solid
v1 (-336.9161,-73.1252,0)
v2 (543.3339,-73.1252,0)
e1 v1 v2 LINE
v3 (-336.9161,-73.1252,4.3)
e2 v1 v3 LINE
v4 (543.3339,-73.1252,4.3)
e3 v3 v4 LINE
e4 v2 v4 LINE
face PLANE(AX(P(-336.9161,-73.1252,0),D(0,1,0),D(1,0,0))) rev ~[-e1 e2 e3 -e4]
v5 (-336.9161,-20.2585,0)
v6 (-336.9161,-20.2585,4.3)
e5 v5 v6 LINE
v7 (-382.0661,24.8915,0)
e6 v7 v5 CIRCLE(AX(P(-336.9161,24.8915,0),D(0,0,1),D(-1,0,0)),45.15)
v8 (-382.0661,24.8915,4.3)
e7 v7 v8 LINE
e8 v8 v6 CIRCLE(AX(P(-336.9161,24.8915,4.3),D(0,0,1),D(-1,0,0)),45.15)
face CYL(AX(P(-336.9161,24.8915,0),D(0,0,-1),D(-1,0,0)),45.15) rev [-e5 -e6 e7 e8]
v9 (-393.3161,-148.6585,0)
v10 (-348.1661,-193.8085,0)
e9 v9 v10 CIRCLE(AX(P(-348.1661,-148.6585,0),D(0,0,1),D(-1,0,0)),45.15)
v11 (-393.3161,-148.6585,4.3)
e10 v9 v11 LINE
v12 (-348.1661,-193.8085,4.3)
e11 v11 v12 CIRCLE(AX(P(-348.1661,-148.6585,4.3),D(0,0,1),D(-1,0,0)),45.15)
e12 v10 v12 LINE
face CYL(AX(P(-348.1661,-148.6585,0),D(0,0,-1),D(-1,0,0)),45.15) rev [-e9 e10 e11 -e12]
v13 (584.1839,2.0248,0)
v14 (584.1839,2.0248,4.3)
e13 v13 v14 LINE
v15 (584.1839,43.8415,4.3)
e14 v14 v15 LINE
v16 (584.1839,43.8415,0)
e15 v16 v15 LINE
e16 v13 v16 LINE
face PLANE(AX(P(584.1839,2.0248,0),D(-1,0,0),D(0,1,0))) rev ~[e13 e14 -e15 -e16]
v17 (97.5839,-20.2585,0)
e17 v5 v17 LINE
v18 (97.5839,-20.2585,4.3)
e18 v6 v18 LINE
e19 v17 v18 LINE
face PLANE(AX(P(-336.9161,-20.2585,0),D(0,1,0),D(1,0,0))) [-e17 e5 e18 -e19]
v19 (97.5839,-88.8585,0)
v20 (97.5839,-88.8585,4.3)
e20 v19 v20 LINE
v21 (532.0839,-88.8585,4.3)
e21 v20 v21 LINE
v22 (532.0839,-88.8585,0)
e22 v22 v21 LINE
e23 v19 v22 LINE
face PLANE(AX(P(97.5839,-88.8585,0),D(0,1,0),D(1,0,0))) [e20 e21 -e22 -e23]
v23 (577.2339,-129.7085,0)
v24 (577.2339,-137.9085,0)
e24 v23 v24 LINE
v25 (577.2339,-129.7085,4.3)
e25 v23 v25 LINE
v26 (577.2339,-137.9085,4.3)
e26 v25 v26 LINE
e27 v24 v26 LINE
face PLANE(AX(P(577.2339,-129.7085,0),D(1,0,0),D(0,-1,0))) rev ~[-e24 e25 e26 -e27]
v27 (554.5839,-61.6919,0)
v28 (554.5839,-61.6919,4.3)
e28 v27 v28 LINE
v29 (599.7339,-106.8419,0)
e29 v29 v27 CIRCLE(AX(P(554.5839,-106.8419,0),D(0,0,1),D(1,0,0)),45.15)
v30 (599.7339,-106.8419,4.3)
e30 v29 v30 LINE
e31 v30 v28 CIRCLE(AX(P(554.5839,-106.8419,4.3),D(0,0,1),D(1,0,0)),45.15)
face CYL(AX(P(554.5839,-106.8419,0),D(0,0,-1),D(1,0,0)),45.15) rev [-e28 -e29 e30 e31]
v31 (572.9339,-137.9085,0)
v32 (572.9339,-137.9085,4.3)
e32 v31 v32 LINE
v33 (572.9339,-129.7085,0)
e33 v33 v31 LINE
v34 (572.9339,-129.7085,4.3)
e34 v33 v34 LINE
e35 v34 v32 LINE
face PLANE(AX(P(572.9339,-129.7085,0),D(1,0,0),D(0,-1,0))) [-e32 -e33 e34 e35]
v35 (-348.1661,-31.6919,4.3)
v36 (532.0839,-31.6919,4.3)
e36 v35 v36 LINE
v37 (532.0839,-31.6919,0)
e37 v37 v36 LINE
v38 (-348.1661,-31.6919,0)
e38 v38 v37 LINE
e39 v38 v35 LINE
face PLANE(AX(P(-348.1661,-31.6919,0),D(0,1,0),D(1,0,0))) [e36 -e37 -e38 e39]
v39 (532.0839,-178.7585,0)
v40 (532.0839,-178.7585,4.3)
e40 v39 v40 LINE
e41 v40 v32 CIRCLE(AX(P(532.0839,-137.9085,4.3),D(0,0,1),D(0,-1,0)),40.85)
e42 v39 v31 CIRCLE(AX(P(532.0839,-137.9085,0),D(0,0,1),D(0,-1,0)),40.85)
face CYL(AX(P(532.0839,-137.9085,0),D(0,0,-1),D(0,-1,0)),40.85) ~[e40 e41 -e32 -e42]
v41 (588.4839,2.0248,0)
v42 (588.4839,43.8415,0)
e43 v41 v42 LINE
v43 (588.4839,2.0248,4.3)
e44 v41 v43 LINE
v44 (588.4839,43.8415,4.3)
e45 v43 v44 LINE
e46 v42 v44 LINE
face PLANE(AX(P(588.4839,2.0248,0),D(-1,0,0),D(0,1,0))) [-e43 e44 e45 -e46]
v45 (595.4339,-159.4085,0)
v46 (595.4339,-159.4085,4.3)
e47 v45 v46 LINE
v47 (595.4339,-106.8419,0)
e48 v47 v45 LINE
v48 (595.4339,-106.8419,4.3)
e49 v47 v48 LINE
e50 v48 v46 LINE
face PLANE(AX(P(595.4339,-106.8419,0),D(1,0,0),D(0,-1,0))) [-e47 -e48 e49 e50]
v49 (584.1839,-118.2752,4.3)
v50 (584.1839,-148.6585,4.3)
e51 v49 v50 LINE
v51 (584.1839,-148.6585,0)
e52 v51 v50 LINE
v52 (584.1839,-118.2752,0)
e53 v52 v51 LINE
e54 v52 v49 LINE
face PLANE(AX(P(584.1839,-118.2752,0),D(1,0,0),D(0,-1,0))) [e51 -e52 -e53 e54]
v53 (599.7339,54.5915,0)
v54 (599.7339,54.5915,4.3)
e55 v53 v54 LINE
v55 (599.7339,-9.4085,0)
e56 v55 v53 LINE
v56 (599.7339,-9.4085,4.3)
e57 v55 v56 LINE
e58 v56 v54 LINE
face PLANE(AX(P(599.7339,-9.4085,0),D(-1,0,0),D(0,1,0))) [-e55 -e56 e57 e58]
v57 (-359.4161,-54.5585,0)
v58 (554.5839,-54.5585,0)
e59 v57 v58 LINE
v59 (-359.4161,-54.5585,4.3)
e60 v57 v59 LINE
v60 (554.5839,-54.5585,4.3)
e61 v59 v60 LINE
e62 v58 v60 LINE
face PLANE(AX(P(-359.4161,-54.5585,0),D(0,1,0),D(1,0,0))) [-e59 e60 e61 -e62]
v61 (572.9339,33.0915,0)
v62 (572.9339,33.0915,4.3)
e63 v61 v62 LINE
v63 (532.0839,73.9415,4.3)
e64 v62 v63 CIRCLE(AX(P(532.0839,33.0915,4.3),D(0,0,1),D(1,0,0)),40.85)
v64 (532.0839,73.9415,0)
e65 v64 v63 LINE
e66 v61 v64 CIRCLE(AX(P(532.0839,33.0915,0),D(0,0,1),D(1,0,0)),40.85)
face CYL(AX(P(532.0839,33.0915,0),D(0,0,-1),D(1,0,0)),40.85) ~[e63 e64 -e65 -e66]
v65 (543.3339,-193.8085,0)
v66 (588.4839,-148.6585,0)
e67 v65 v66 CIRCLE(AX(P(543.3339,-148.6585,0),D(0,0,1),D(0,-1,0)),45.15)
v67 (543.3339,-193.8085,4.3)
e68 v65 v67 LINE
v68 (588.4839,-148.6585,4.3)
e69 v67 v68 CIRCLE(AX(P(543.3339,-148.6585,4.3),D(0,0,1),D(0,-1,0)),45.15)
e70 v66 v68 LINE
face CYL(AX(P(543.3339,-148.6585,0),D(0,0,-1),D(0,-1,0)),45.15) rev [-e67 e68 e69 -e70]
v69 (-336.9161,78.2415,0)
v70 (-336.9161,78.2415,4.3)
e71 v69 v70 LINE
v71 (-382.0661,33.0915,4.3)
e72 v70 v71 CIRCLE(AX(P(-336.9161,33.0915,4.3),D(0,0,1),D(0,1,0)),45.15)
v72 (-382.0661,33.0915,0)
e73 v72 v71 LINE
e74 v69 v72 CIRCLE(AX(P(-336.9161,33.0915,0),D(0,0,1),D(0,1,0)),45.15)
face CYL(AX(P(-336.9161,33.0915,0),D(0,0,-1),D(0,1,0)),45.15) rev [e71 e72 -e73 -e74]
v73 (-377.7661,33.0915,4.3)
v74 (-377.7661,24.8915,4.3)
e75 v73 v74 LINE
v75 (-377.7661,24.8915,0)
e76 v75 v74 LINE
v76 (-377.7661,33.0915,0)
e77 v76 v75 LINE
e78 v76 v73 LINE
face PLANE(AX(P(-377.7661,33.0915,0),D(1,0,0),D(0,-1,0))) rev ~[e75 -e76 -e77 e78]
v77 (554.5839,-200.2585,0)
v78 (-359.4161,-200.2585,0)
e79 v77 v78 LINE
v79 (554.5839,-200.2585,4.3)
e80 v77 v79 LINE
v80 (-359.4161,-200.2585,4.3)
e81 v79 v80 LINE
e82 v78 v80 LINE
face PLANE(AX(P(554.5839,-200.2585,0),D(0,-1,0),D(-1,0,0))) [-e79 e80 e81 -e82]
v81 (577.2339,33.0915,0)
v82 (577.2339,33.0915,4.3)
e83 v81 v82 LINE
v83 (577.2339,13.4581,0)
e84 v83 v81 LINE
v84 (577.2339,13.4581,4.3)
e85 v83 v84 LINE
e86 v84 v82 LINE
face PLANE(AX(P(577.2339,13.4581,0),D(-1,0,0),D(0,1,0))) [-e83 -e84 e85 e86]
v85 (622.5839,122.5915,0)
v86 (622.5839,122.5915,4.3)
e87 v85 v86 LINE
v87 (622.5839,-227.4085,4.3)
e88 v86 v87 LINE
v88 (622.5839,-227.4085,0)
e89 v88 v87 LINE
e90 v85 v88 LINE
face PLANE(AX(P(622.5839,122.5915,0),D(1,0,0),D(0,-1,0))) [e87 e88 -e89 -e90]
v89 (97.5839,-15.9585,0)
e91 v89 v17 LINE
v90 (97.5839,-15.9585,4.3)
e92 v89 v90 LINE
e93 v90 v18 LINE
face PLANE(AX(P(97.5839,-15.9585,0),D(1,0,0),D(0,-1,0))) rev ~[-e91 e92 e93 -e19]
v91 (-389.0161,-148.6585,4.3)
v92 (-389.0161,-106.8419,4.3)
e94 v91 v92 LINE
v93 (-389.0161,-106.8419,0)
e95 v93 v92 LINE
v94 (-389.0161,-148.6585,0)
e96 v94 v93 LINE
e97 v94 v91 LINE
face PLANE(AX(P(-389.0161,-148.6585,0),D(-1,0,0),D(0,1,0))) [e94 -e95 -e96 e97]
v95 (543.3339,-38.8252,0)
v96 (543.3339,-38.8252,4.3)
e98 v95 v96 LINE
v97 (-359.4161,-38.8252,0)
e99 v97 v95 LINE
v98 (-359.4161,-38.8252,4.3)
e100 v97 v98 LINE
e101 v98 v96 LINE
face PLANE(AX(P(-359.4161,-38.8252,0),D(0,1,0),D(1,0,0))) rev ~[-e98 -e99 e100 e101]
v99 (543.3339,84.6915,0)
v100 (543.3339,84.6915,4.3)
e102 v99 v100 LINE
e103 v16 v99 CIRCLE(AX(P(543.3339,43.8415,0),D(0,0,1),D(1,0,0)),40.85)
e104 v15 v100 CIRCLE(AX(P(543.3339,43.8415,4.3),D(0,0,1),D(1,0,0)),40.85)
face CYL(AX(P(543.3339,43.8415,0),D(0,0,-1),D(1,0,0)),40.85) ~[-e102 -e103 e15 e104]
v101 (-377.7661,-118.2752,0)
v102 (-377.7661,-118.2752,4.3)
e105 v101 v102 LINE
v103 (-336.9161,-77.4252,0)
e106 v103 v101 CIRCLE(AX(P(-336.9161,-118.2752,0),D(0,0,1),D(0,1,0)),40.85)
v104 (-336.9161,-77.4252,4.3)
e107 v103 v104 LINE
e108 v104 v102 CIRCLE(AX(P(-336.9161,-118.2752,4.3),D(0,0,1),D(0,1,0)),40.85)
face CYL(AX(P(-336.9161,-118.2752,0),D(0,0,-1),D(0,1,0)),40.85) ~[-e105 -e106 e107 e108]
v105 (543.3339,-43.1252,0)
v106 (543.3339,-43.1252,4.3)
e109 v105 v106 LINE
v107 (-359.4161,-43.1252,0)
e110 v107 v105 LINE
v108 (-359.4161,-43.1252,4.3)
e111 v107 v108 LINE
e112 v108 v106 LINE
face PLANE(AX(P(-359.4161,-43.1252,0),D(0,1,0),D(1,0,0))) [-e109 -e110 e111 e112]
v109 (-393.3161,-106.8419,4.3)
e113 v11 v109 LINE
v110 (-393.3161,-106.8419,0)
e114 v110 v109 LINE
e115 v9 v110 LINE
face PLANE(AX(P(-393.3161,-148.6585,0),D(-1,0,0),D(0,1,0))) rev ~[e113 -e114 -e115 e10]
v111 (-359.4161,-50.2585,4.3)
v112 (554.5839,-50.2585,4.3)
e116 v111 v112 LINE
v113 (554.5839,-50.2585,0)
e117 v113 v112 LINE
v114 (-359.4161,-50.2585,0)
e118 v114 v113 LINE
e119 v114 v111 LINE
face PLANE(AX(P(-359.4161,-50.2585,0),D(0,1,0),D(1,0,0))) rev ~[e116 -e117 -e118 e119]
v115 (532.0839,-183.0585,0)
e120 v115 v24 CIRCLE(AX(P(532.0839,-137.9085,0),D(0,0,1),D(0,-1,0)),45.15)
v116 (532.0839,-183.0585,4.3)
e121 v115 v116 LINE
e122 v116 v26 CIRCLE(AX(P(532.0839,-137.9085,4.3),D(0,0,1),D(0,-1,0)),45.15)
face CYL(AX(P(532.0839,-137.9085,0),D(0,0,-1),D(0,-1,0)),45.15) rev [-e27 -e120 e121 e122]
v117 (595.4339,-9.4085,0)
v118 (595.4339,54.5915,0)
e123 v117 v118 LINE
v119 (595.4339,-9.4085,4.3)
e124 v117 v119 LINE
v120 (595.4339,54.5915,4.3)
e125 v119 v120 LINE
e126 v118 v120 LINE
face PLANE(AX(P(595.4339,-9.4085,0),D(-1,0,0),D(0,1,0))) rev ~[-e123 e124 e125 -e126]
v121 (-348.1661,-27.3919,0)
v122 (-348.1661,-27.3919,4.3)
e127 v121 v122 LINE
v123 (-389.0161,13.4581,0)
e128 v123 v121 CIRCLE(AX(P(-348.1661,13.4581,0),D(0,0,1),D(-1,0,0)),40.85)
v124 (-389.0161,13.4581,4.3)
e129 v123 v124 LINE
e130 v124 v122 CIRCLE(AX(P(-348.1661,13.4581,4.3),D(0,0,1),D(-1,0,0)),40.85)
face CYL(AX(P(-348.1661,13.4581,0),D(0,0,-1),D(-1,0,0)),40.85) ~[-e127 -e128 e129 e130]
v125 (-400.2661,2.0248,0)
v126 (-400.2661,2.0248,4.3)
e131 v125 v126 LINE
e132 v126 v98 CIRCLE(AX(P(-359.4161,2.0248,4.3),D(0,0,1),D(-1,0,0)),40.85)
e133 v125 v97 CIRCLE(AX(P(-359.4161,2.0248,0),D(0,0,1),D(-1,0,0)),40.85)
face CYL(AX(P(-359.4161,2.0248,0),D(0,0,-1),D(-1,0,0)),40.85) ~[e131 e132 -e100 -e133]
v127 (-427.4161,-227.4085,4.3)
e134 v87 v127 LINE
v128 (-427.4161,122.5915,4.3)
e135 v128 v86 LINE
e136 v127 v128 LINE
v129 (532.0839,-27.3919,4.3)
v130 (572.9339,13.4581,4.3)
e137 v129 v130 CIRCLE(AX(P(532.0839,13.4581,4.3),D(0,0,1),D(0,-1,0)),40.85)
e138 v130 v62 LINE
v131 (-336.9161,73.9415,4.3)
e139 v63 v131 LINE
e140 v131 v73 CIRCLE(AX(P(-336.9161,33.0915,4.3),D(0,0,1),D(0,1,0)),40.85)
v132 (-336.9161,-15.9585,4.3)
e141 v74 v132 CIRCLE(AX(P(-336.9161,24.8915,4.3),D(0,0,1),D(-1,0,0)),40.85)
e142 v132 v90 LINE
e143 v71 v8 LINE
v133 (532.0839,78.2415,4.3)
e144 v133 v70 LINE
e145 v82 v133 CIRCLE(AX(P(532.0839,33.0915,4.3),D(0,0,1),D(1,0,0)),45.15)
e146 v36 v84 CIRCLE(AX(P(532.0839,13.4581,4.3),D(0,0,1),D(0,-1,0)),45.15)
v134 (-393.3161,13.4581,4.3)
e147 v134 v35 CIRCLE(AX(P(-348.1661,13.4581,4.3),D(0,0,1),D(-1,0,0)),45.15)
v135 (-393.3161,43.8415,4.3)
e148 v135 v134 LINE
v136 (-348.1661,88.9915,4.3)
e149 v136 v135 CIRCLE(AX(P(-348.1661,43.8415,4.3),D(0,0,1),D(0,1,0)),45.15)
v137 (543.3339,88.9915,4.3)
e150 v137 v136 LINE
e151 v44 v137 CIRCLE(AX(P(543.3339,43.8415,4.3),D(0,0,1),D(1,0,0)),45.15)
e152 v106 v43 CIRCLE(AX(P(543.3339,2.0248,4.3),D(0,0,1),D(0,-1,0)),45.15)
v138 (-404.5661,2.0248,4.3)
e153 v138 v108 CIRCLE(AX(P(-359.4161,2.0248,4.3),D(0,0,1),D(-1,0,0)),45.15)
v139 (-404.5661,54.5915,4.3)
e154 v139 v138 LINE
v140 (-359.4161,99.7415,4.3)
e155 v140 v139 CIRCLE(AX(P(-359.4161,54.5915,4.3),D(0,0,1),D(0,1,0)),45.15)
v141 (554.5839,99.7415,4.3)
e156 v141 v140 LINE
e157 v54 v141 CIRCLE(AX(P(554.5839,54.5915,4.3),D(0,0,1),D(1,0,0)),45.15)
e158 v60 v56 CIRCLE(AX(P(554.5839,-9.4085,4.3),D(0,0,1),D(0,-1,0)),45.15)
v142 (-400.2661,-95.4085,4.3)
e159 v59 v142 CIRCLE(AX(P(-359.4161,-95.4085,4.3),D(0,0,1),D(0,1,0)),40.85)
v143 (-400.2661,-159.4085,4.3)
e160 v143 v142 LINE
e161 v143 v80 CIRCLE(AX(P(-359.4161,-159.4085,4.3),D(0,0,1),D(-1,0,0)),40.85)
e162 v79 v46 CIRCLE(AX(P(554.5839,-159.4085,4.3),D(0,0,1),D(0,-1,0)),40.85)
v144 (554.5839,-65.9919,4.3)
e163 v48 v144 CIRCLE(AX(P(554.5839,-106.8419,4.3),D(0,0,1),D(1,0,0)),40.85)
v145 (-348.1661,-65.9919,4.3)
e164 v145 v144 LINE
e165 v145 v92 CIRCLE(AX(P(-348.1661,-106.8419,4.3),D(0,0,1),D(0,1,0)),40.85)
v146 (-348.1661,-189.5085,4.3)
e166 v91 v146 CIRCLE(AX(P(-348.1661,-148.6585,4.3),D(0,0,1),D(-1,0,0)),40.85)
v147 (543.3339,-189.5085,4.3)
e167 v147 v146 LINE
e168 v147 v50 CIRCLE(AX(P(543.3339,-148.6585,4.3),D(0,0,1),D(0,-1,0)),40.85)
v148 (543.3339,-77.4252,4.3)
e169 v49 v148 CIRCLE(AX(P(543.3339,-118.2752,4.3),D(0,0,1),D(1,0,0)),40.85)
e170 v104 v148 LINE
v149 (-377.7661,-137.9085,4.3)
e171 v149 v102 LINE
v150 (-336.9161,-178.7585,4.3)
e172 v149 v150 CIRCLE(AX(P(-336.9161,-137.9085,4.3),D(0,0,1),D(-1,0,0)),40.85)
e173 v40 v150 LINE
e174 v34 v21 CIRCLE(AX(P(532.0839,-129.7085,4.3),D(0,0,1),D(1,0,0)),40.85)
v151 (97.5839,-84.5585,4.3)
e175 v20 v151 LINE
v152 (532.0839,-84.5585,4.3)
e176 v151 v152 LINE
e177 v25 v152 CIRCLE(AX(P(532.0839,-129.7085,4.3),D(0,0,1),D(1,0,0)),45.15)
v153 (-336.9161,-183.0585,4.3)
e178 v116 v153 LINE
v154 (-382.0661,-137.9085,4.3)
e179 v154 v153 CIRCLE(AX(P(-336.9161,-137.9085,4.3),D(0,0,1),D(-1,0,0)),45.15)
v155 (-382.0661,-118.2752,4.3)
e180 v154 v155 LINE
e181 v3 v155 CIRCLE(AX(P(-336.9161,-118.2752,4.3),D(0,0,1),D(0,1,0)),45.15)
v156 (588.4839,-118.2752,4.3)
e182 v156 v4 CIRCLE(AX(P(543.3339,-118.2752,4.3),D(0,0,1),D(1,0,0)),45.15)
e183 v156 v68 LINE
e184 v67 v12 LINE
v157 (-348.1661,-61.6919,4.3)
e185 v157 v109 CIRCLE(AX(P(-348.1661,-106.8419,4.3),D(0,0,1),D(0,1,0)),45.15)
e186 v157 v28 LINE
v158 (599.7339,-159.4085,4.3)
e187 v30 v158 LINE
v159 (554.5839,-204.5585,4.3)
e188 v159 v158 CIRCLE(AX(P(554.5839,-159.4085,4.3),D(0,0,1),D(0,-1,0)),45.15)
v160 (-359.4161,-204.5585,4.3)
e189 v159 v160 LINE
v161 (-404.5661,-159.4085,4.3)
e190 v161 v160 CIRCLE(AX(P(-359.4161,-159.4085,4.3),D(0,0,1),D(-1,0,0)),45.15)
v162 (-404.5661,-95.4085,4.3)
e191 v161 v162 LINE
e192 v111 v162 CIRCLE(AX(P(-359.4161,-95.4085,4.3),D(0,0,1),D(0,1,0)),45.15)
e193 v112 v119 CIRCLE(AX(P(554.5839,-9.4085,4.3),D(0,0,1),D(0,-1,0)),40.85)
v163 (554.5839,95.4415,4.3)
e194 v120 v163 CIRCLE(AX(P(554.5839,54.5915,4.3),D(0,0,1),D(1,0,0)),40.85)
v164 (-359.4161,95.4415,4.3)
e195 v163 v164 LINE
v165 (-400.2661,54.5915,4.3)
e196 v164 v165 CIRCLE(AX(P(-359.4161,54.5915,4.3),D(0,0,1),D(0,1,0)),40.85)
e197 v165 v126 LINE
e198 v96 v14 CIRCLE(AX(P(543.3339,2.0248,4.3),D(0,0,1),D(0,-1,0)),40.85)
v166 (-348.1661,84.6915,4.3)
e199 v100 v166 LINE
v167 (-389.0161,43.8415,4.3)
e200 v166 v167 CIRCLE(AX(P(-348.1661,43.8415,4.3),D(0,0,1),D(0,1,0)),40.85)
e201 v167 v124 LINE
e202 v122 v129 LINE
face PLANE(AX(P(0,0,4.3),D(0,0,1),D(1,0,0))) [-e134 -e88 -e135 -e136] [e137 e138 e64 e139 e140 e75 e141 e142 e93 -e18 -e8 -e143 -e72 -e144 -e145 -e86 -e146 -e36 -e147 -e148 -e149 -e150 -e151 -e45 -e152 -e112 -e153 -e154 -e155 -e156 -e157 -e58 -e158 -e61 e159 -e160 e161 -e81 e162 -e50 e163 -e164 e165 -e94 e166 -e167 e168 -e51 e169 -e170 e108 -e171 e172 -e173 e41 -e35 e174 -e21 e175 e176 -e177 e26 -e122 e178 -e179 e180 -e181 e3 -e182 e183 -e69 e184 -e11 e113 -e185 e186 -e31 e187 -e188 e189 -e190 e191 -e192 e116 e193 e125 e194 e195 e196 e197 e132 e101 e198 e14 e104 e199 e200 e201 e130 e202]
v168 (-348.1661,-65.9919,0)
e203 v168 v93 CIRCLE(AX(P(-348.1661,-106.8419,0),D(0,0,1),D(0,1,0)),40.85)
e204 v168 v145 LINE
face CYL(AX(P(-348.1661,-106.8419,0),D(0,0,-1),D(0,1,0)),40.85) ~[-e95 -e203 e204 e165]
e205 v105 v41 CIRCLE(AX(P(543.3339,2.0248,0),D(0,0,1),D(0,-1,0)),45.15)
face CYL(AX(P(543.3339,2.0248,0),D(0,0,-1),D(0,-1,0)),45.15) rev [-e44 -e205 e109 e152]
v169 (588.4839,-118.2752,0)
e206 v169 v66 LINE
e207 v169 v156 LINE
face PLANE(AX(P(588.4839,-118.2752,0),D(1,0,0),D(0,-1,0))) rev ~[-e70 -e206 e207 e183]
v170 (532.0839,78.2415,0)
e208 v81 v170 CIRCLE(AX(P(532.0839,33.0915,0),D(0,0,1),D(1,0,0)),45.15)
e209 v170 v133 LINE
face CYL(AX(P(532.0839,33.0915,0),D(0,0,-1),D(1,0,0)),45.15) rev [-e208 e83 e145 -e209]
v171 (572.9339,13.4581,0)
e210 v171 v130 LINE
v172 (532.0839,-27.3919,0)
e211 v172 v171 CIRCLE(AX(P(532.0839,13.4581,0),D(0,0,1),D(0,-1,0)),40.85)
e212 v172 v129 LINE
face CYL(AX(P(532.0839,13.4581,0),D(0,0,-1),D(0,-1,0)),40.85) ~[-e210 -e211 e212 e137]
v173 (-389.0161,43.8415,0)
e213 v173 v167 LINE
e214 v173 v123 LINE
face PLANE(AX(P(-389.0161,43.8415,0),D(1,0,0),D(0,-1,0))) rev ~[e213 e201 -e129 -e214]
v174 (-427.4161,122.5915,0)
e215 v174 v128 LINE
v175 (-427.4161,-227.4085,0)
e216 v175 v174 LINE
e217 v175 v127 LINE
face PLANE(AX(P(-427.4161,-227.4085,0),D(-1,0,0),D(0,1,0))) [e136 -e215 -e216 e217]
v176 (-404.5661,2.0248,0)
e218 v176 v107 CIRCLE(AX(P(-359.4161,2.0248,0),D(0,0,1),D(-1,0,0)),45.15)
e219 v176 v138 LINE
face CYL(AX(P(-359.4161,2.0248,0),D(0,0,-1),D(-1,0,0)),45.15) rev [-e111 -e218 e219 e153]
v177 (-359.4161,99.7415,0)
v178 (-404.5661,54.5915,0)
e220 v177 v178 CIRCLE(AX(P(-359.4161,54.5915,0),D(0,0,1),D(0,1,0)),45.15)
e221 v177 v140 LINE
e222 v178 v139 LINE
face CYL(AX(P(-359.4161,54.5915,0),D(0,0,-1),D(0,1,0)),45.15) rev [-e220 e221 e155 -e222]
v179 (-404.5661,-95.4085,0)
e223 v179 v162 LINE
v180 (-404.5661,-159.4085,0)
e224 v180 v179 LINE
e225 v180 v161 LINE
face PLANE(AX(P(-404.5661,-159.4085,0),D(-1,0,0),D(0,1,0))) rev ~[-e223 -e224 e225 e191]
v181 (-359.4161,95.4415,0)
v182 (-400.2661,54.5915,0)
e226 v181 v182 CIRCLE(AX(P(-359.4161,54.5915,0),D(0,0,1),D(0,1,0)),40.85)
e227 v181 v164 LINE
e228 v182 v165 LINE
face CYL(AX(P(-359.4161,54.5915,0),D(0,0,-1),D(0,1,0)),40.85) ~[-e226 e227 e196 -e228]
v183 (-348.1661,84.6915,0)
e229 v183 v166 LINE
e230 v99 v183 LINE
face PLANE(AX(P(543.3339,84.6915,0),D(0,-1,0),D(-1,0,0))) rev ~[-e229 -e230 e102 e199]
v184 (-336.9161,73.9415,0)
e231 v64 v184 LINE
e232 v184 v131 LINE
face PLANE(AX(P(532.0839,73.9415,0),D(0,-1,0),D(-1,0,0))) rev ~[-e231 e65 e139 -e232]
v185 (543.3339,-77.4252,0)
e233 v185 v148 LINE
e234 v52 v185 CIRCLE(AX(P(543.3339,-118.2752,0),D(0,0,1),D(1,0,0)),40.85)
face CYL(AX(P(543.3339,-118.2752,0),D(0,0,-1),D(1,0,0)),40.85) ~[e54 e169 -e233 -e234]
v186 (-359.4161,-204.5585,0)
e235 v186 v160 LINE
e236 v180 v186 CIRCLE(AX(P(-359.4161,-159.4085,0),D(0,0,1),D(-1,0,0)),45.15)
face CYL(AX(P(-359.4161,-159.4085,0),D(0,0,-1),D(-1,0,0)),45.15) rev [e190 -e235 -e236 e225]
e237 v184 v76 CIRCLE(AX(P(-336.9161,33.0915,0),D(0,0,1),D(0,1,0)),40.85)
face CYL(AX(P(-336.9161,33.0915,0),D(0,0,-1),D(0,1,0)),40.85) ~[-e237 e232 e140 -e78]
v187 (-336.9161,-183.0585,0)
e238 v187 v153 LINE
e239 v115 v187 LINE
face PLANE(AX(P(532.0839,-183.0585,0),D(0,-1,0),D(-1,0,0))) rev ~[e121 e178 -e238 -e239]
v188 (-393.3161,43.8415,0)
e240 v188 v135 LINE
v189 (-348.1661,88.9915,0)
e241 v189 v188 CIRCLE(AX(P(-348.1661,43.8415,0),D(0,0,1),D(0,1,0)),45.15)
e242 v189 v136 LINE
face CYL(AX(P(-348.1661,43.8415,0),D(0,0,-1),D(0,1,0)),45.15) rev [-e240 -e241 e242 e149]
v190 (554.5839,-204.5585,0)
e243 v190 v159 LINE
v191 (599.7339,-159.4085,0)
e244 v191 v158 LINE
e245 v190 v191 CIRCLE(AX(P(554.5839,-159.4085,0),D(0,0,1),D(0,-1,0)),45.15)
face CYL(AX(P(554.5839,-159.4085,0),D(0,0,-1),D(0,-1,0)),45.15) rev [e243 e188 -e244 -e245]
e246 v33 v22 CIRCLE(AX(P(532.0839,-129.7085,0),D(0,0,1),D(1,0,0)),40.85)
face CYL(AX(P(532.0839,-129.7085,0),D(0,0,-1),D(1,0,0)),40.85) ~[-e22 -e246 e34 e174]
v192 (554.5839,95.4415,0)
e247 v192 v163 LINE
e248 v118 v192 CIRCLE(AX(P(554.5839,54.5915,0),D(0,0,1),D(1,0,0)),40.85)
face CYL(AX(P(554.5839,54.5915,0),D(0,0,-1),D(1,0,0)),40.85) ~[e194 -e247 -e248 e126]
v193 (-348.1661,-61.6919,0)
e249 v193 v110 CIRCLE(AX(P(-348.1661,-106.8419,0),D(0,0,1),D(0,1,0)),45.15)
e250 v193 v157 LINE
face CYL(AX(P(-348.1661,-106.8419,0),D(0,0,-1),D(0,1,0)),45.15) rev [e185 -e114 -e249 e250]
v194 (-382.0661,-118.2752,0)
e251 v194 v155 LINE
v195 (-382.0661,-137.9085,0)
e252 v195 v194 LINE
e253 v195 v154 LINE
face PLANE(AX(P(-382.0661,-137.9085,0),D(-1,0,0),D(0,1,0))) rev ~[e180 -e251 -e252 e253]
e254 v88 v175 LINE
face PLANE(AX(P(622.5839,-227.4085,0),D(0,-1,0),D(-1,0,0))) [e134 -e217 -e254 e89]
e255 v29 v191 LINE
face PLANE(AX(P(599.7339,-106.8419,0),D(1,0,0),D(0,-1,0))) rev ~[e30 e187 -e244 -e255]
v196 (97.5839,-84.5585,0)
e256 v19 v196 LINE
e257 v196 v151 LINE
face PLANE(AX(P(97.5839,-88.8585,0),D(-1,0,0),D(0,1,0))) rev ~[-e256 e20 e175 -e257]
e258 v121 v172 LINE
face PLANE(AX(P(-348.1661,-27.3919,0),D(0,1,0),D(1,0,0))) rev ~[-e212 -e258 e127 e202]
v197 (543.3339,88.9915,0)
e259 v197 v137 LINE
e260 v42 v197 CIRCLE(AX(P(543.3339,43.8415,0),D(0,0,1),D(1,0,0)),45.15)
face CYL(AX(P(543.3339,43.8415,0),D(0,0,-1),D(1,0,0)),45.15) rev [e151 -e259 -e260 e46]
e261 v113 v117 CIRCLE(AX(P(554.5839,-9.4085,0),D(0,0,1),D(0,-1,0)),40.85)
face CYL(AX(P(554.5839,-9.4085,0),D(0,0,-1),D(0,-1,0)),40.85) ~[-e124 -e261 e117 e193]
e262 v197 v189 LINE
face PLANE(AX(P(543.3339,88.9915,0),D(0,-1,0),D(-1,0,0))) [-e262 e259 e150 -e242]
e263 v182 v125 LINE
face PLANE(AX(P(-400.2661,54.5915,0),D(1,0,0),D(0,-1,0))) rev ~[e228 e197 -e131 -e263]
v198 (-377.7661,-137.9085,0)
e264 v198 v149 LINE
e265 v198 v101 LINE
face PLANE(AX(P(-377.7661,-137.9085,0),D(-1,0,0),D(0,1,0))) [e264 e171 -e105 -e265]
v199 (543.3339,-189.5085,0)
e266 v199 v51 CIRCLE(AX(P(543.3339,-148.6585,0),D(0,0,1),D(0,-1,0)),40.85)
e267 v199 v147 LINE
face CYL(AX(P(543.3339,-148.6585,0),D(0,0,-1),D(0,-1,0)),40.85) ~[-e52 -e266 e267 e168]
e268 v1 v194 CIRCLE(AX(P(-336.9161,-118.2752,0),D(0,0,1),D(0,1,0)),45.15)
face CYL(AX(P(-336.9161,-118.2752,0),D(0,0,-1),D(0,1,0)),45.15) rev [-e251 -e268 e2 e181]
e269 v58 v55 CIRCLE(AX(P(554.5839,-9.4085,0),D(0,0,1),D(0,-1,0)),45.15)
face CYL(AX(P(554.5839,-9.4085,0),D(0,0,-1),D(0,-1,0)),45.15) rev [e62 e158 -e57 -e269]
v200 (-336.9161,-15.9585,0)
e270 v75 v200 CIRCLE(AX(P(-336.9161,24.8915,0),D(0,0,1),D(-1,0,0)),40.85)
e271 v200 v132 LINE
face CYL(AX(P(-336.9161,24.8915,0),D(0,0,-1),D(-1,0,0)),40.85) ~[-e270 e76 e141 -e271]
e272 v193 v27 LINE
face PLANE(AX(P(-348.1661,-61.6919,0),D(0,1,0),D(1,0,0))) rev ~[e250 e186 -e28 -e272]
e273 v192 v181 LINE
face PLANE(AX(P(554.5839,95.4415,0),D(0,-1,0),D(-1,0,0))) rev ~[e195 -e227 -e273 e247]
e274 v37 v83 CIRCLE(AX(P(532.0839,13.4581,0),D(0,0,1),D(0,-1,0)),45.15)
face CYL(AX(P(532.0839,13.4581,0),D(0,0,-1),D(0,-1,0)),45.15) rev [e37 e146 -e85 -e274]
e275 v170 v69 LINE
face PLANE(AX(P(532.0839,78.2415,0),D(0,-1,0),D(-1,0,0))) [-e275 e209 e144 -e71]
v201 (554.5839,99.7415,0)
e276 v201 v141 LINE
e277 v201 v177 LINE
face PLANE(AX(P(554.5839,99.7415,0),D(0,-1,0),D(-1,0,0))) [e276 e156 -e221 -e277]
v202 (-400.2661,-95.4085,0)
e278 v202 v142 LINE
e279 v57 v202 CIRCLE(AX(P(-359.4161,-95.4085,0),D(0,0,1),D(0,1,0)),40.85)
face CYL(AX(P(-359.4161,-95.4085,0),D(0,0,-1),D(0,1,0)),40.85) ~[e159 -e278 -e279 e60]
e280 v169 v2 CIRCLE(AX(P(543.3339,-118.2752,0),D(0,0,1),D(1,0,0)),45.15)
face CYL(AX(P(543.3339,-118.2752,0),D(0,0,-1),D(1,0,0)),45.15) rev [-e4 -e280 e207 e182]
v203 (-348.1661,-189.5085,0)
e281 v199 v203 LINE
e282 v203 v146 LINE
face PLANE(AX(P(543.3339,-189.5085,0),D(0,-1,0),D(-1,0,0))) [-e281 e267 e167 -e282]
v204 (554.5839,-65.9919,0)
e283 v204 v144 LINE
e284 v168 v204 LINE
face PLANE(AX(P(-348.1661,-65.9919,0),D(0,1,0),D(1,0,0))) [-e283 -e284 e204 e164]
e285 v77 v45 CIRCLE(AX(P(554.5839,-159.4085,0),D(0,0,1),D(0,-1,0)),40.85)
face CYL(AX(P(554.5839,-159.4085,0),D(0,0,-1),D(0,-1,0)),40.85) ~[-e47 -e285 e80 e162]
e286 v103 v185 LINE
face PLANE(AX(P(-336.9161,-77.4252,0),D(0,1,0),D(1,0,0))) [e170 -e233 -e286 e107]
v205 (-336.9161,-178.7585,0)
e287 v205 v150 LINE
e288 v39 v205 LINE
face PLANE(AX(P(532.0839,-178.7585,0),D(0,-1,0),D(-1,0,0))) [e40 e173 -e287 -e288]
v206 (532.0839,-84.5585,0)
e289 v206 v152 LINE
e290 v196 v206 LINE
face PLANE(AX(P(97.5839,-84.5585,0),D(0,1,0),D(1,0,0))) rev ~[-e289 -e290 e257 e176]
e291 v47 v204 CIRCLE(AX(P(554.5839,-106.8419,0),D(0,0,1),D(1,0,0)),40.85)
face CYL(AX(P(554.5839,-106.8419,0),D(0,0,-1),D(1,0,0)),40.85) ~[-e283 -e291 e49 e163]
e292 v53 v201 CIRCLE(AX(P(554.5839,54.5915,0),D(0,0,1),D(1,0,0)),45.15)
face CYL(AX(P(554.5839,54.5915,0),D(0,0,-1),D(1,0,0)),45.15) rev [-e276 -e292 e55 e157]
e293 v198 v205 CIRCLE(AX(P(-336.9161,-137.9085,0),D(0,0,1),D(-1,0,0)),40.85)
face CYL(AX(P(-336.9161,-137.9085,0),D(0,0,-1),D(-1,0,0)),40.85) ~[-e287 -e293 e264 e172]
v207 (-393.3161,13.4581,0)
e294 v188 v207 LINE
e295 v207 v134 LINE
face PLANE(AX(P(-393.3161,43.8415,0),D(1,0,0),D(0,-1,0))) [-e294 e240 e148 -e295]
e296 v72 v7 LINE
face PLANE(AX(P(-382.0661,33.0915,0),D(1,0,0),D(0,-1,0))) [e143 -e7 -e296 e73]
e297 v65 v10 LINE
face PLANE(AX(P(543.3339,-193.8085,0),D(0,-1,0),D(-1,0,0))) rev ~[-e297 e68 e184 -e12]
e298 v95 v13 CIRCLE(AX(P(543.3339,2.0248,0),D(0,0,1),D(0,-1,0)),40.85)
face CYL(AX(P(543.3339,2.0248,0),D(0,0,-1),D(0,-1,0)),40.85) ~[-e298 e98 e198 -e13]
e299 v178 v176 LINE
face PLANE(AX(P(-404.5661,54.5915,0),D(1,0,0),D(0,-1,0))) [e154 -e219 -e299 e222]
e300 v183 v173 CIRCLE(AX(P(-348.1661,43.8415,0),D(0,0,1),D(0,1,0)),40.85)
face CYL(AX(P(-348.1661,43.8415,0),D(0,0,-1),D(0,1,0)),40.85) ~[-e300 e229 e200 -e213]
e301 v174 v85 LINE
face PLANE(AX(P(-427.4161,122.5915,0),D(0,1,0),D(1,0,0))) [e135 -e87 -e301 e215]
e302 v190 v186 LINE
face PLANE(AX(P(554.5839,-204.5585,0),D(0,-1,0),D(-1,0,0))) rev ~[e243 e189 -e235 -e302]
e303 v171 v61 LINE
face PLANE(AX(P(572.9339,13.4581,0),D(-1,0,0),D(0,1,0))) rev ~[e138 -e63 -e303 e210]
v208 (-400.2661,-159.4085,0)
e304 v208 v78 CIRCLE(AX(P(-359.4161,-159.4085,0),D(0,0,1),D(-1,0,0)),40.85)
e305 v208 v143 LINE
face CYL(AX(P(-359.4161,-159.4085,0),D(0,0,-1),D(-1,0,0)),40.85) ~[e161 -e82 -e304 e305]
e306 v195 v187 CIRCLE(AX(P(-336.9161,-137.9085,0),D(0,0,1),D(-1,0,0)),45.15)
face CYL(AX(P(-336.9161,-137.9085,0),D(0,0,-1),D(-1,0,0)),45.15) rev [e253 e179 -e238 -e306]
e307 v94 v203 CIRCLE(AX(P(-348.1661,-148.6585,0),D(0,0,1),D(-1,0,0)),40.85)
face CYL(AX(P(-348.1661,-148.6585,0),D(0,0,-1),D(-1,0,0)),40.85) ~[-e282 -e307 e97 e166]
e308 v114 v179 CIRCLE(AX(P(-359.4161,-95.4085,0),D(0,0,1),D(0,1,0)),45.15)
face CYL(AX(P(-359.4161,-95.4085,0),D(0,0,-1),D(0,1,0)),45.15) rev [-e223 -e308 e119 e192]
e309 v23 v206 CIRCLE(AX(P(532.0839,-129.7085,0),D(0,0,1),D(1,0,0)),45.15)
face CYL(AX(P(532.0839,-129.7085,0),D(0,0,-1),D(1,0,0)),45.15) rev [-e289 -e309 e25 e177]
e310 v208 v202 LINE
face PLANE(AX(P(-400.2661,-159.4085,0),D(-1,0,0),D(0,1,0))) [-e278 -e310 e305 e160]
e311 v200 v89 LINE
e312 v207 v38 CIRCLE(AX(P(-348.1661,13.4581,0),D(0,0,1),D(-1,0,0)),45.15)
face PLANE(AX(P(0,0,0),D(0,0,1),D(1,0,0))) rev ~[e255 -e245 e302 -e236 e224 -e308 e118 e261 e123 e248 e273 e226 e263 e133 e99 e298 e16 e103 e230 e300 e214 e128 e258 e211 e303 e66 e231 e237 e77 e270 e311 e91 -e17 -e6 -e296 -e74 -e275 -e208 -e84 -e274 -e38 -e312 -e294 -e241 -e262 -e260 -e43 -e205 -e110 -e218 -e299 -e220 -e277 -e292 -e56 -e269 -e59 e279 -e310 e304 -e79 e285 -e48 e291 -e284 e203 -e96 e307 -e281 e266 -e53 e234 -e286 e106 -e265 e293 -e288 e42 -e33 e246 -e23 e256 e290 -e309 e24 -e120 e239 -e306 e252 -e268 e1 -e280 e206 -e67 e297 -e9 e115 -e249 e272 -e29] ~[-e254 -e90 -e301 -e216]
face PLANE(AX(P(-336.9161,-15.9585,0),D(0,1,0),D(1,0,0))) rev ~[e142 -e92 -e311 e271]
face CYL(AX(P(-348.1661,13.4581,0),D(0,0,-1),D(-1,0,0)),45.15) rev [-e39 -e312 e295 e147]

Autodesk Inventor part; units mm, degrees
ref_plane "YZ Plane" through (0, 0, 0) normal (1, 0, 0) x (0, 1, 0)
ref_plane "XZ Plane" through (0, 0, 0) normal (0, 1, 0) x (-1, 0, 0)
ref_plane "XY Plane" through (0, 0, 0) normal (0, 0, 1) x (1, 0, 0)
sketch "Sketch1" plane through (0, 0, 0) normal (0, 0, 1) x (1, 0, 0)
  line L0 (97.5839, -88.8585) -> (97.5839, -84.5585) projected
  line L1 (97.5839, -88.8585) -> (532.0839, -88.8585) projected
  arc A0 (572.9339, -129.7085) -> (532.0839, -88.8585) centre (532.0839, -129.7085) ccw projected
  line L2 (572.9339, -129.7085) -> (572.9339, -137.9085) projected
  arc A1 (532.0839, -178.7585) -> (572.9339, -137.9085) centre (532.0839, -137.9085) ccw projected
  line L3 (532.0839, -178.7585) -> (-336.9161, -178.7585) projected
  arc A2 (-377.7661, -137.9085) -> (-336.9161, -178.7585) centre (-336.9161, -137.9085) ccw projected
  line L4 (-377.7661, -137.9085) -> (-377.7661, -118.2752) projected
  arc A3 (-336.9161, -77.4252) -> (-377.7661, -118.2752) centre (-336.9161, -118.2752) ccw projected
  line L5 (-336.9161, -77.4252) -> (543.3339, -77.4252) projected
  arc A4 (584.1839, -118.2752) -> (543.3339, -77.4252) centre (543.3339, -118.2752) ccw projected
  line L6 (584.1839, -118.2752) -> (584.1839, -148.6585) projected
  arc A5 (543.3339, -189.5085) -> (584.1839, -148.6585) centre (543.3339, -148.6585) ccw projected
  line L7 (543.3339, -189.5085) -> (-348.1661, -189.5085) projected
  arc A6 (-389.0161, -148.6585) -> (-348.1661, -189.5085) centre (-348.1661, -148.6585) ccw projected
  line L8 (-389.0161, -148.6585) -> (-389.0161, -106.8419) projected
  arc A7 (-348.1661, -65.9919) -> (-389.0161, -106.8419) centre (-348.1661, -106.8419) ccw projected
  line L9 (-348.1661, -65.9919) -> (554.5839, -65.9919) projected
  arc A8 (595.4339, -106.8419) -> (554.5839, -65.9919) centre (554.5839, -106.8419) ccw projected
  line L10 (595.4339, -106.8419) -> (595.4339, -159.4085) projected
  arc A9 (554.5839, -200.2585) -> (595.4339, -159.4085) centre (554.5839, -159.4085) ccw projected
  line L11 (554.5839, -200.2585) -> (-359.4161, -200.2585) projected
  arc A10 (-400.2661, -159.4085) -> (-359.4161, -200.2585) centre (-359.4161, -159.4085) ccw projected
  line L12 (-400.2661, -159.4085) -> (-400.2661, -95.4085) projected
  arc A11 (-359.4161, -54.5585) -> (-400.2661, -95.4085) centre (-359.4161, -95.4085) ccw projected
  line L13 (-359.4161, -54.5585) -> (554.5839, -54.5585) projected
  arc A12 (554.5839, -54.5585) -> (599.7339, -9.4085) centre (554.5839, -9.4085) ccw projected
  line L14 (599.7339, -9.4085) -> (599.7339, 54.5915) projected
  arc A13 (599.7339, 54.5915) -> (554.5839, 99.7415) centre (554.5839, 54.5915) ccw projected
  line L15 (554.5839, 99.7415) -> (-359.4161, 99.7415) projected
  arc A14 (-359.4161, 99.7415) -> (-404.5661, 54.5915) centre (-359.4161, 54.5915) ccw projected
  line L16 (-404.5661, 54.5915) -> (-404.5661, 2.0248) projected
  arc A15 (-404.5661, 2.0248) -> (-359.4161, -43.1252) centre (-359.4161, 2.0248) ccw projected
  line L17 (-359.4161, -43.1252) -> (543.3339, -43.1252) projected
  arc A16 (543.3339, -43.1252) -> (588.4839, 2.0248) centre (543.3339, 2.0248) ccw projected
  line L18 (588.4839, 2.0248) -> (588.4839, 43.8415) projected
  arc A17 (588.4839, 43.8415) -> (543.3339, 88.9915) centre (543.3339, 43.8415) ccw projected
  line L19 (543.3339, 88.9915) -> (-348.1661, 88.9915) projected
  arc A18 (-348.1661, 88.9915) -> (-393.3161, 43.8415) centre (-348.1661, 43.8415) ccw projected
  line L20 (-393.3161, 43.8415) -> (-393.3161, 13.4581) projected
  arc A19 (-393.3161, 13.4581) -> (-348.1661, -31.6919) centre (-348.1661, 13.4581) ccw projected
  line L21 (-348.1661, -31.6919) -> (532.0839, -31.6919) projected
  arc A20 (532.0839, -31.6919) -> (577.2339, 13.4581) centre (532.0839, 13.4581) ccw projected
  line L22 (577.2339, 13.4581) -> (577.2339, 33.0915) projected
  arc A21 (577.2339, 33.0915) -> (532.0839, 78.2415) centre (532.0839, 33.0915) ccw projected
  line L23 (532.0839, 78.2415) -> (-336.9161, 78.2415) projected
  arc A22 (-336.9161, 78.2415) -> (-382.0661, 33.0915) centre (-336.9161, 33.0915) ccw projected
  line L24 (-382.0661, 33.0915) -> (-382.0661, 24.8915) projected
  arc A23 (-382.0661, 24.8915) -> (-336.9161, -20.2585) centre (-336.9161, 24.8915) ccw projected
  line L25 (-336.9161, -20.2585) -> (97.5839, -20.2585) projected
  line L26 (97.5839, -15.9585) -> (97.5839, -20.2585) projected
  line L27 (-336.9161, -15.9585) -> (97.5839, -15.9585) projected
  arc A24 (-377.7661, 24.8915) -> (-336.9161, -15.9585) centre (-336.9161, 24.8915) ccw projected
  line L28 (-377.7661, 33.0915) -> (-377.7661, 24.8915) projected
  arc A25 (-336.9161, 73.9415) -> (-377.7661, 33.0915) centre (-336.9161, 33.0915) ccw projected
  line L29 (532.0839, 73.9415) -> (-336.9161, 73.9415) projected
  arc A26 (572.9339, 33.0915) -> (532.0839, 73.9415) centre (532.0839, 33.0915) ccw projected
  line L30 (572.9339, 13.4581) -> (572.9339, 33.0915) projected
  arc A27 (532.0839, -27.3919) -> (572.9339, 13.4581) centre (532.0839, 13.4581) ccw projected
  line L31 (-348.1661, -27.3919) -> (532.0839, -27.3919) projected
  arc A28 (-389.0161, 13.4581) -> (-348.1661, -27.3919) centre (-348.1661, 13.4581) ccw projected
  line L32 (-389.0161, 43.8415) -> (-389.0161, 13.4581) projected
  arc A29 (-348.1661, 84.6915) -> (-389.0161, 43.8415) centre (-348.1661, 43.8415) ccw projected
  line L33 (543.3339, 84.6915) -> (-348.1661, 84.6915) projected
  arc A30 (584.1839, 43.8415) -> (543.3339, 84.6915) centre (543.3339, 43.8415) ccw projected
  line L34 (584.1839, 2.0248) -> (584.1839, 43.8415) projected
  arc A31 (543.3339, -38.8252) -> (584.1839, 2.0248) centre (543.3339, 2.0248) ccw projected
  line L35 (-359.4161, -38.8252) -> (543.3339, -38.8252) projected
  arc A32 (-400.2661, 2.0248) -> (-359.4161, -38.8252) centre (-359.4161, 2.0248) ccw projected
  line L36 (-400.2661, 54.5915) -> (-400.2661, 2.0248) projected
  arc A33 (-359.4161, 95.4415) -> (-400.2661, 54.5915) centre (-359.4161, 54.5915) ccw projected
  line L37 (554.5839, 95.4415) -> (-359.4161, 95.4415) projected
  arc A34 (595.4339, 54.5915) -> (554.5839, 95.4415) centre (554.5839, 54.5915) ccw projected
  line L38 (595.4339, -9.4085) -> (595.4339, 54.5915) projected
  arc A35 (554.5839, -50.2585) -> (595.4339, -9.4085) centre (554.5839, -9.4085) ccw projected
  line L39 (-359.4161, -50.2585) -> (554.5839, -50.2585) projected
  arc A36 (-359.4161, -50.2585) -> (-404.5661, -95.4085) centre (-359.4161, -95.4085) ccw projected
  line L40 (-404.5661, -159.4085) -> (-404.5661, -95.4085) projected
  arc A37 (-404.5661, -159.4085) -> (-359.4161, -204.5585) centre (-359.4161, -159.4085) ccw projected
  line L41 (554.5839, -204.5585) -> (-359.4161, -204.5585) projected
  arc A38 (554.5839, -204.5585) -> (599.7339, -159.4085) centre (554.5839, -159.4085) ccw projected
  line L42 (599.7339, -106.8419) -> (599.7339, -159.4085) projected
  arc A39 (599.7339, -106.8419) -> (554.5839, -61.6919) centre (554.5839, -106.8419) ccw projected
  line L43 (-348.1661, -61.6919) -> (554.5839, -61.6919) projected
  arc A40 (-348.1661, -61.6919) -> (-393.3161, -106.8419) centre (-348.1661, -106.8419) ccw projected
  line L44 (-393.3161, -148.6585) -> (-393.3161, -106.8419) projected
  arc A41 (-393.3161, -148.6585) -> (-348.1661, -193.8085) centre (-348.1661, -148.6585) ccw projected
  line L45 (543.3339, -193.8085) -> (-348.1661, -193.8085) projected
  arc A42 (543.3339, -193.8085) -> (588.4839, -148.6585) centre (543.3339, -148.6585) ccw projected
  line L46 (588.4839, -118.2752) -> (588.4839, -148.6585) projected
  arc A43 (588.4839, -118.2752) -> (543.3339, -73.1252) centre (543.3339, -118.2752) ccw projected
  line L47 (-336.9161, -73.1252) -> (543.3339, -73.1252) projected
  arc A44 (-336.9161, -73.1252) -> (-382.0661, -118.2752) centre (-336.9161, -118.2752) ccw projected
  line L48 (-382.0661, -137.9085) -> (-382.0661, -118.2752) projected
  arc A45 (-382.0661, -137.9085) -> (-336.9161, -183.0585) centre (-336.9161, -137.9085) ccw projected
  line L49 (532.0839, -183.0585) -> (-336.9161, -183.0585) projected
  arc A46 (532.0839, -183.0585) -> (577.2339, -137.9085) centre (532.0839, -137.9085) ccw projected
  line L50 (577.2339, -129.7085) -> (577.2339, -137.9085) projected
  arc A47 (577.2339, -129.7085) -> (532.0839, -84.5585) centre (532.0839, -129.7085) ccw projected
  line L51 (97.5839, -84.5585) -> (532.0839, -84.5585) projected
  line L52 (97.5839, -20.2585) -> (97.5839, -84.5585) construction
  line L53 (97.5839, -52.4085) -> (22.8086, -52.4085)
  line L54 (622.5839, -227.4085) -> (-427.4161, -227.4085)
  line L55 (-427.4161, -227.4085) -> (-427.4161, 122.5915)
  line L56 (-427.4161, 122.5915) -> (622.5839, 122.5915)
  line L57 (622.5839, 122.5915) -> (622.5839, -227.4085)
  line L58 (622.5839, -227.4085) -> (-427.4161, 122.5915) construction
  line L59 (-427.4161, -227.4085) -> (622.5839, 122.5915) construction
  point P0 (0, 0)
  dimension "d0" = 1050
  dimension "d1" = 350
extrude "Extrusion1" add sketch "Sketch1" along normal blind 4.3
properties part number "PrimaryCoilLayer"
